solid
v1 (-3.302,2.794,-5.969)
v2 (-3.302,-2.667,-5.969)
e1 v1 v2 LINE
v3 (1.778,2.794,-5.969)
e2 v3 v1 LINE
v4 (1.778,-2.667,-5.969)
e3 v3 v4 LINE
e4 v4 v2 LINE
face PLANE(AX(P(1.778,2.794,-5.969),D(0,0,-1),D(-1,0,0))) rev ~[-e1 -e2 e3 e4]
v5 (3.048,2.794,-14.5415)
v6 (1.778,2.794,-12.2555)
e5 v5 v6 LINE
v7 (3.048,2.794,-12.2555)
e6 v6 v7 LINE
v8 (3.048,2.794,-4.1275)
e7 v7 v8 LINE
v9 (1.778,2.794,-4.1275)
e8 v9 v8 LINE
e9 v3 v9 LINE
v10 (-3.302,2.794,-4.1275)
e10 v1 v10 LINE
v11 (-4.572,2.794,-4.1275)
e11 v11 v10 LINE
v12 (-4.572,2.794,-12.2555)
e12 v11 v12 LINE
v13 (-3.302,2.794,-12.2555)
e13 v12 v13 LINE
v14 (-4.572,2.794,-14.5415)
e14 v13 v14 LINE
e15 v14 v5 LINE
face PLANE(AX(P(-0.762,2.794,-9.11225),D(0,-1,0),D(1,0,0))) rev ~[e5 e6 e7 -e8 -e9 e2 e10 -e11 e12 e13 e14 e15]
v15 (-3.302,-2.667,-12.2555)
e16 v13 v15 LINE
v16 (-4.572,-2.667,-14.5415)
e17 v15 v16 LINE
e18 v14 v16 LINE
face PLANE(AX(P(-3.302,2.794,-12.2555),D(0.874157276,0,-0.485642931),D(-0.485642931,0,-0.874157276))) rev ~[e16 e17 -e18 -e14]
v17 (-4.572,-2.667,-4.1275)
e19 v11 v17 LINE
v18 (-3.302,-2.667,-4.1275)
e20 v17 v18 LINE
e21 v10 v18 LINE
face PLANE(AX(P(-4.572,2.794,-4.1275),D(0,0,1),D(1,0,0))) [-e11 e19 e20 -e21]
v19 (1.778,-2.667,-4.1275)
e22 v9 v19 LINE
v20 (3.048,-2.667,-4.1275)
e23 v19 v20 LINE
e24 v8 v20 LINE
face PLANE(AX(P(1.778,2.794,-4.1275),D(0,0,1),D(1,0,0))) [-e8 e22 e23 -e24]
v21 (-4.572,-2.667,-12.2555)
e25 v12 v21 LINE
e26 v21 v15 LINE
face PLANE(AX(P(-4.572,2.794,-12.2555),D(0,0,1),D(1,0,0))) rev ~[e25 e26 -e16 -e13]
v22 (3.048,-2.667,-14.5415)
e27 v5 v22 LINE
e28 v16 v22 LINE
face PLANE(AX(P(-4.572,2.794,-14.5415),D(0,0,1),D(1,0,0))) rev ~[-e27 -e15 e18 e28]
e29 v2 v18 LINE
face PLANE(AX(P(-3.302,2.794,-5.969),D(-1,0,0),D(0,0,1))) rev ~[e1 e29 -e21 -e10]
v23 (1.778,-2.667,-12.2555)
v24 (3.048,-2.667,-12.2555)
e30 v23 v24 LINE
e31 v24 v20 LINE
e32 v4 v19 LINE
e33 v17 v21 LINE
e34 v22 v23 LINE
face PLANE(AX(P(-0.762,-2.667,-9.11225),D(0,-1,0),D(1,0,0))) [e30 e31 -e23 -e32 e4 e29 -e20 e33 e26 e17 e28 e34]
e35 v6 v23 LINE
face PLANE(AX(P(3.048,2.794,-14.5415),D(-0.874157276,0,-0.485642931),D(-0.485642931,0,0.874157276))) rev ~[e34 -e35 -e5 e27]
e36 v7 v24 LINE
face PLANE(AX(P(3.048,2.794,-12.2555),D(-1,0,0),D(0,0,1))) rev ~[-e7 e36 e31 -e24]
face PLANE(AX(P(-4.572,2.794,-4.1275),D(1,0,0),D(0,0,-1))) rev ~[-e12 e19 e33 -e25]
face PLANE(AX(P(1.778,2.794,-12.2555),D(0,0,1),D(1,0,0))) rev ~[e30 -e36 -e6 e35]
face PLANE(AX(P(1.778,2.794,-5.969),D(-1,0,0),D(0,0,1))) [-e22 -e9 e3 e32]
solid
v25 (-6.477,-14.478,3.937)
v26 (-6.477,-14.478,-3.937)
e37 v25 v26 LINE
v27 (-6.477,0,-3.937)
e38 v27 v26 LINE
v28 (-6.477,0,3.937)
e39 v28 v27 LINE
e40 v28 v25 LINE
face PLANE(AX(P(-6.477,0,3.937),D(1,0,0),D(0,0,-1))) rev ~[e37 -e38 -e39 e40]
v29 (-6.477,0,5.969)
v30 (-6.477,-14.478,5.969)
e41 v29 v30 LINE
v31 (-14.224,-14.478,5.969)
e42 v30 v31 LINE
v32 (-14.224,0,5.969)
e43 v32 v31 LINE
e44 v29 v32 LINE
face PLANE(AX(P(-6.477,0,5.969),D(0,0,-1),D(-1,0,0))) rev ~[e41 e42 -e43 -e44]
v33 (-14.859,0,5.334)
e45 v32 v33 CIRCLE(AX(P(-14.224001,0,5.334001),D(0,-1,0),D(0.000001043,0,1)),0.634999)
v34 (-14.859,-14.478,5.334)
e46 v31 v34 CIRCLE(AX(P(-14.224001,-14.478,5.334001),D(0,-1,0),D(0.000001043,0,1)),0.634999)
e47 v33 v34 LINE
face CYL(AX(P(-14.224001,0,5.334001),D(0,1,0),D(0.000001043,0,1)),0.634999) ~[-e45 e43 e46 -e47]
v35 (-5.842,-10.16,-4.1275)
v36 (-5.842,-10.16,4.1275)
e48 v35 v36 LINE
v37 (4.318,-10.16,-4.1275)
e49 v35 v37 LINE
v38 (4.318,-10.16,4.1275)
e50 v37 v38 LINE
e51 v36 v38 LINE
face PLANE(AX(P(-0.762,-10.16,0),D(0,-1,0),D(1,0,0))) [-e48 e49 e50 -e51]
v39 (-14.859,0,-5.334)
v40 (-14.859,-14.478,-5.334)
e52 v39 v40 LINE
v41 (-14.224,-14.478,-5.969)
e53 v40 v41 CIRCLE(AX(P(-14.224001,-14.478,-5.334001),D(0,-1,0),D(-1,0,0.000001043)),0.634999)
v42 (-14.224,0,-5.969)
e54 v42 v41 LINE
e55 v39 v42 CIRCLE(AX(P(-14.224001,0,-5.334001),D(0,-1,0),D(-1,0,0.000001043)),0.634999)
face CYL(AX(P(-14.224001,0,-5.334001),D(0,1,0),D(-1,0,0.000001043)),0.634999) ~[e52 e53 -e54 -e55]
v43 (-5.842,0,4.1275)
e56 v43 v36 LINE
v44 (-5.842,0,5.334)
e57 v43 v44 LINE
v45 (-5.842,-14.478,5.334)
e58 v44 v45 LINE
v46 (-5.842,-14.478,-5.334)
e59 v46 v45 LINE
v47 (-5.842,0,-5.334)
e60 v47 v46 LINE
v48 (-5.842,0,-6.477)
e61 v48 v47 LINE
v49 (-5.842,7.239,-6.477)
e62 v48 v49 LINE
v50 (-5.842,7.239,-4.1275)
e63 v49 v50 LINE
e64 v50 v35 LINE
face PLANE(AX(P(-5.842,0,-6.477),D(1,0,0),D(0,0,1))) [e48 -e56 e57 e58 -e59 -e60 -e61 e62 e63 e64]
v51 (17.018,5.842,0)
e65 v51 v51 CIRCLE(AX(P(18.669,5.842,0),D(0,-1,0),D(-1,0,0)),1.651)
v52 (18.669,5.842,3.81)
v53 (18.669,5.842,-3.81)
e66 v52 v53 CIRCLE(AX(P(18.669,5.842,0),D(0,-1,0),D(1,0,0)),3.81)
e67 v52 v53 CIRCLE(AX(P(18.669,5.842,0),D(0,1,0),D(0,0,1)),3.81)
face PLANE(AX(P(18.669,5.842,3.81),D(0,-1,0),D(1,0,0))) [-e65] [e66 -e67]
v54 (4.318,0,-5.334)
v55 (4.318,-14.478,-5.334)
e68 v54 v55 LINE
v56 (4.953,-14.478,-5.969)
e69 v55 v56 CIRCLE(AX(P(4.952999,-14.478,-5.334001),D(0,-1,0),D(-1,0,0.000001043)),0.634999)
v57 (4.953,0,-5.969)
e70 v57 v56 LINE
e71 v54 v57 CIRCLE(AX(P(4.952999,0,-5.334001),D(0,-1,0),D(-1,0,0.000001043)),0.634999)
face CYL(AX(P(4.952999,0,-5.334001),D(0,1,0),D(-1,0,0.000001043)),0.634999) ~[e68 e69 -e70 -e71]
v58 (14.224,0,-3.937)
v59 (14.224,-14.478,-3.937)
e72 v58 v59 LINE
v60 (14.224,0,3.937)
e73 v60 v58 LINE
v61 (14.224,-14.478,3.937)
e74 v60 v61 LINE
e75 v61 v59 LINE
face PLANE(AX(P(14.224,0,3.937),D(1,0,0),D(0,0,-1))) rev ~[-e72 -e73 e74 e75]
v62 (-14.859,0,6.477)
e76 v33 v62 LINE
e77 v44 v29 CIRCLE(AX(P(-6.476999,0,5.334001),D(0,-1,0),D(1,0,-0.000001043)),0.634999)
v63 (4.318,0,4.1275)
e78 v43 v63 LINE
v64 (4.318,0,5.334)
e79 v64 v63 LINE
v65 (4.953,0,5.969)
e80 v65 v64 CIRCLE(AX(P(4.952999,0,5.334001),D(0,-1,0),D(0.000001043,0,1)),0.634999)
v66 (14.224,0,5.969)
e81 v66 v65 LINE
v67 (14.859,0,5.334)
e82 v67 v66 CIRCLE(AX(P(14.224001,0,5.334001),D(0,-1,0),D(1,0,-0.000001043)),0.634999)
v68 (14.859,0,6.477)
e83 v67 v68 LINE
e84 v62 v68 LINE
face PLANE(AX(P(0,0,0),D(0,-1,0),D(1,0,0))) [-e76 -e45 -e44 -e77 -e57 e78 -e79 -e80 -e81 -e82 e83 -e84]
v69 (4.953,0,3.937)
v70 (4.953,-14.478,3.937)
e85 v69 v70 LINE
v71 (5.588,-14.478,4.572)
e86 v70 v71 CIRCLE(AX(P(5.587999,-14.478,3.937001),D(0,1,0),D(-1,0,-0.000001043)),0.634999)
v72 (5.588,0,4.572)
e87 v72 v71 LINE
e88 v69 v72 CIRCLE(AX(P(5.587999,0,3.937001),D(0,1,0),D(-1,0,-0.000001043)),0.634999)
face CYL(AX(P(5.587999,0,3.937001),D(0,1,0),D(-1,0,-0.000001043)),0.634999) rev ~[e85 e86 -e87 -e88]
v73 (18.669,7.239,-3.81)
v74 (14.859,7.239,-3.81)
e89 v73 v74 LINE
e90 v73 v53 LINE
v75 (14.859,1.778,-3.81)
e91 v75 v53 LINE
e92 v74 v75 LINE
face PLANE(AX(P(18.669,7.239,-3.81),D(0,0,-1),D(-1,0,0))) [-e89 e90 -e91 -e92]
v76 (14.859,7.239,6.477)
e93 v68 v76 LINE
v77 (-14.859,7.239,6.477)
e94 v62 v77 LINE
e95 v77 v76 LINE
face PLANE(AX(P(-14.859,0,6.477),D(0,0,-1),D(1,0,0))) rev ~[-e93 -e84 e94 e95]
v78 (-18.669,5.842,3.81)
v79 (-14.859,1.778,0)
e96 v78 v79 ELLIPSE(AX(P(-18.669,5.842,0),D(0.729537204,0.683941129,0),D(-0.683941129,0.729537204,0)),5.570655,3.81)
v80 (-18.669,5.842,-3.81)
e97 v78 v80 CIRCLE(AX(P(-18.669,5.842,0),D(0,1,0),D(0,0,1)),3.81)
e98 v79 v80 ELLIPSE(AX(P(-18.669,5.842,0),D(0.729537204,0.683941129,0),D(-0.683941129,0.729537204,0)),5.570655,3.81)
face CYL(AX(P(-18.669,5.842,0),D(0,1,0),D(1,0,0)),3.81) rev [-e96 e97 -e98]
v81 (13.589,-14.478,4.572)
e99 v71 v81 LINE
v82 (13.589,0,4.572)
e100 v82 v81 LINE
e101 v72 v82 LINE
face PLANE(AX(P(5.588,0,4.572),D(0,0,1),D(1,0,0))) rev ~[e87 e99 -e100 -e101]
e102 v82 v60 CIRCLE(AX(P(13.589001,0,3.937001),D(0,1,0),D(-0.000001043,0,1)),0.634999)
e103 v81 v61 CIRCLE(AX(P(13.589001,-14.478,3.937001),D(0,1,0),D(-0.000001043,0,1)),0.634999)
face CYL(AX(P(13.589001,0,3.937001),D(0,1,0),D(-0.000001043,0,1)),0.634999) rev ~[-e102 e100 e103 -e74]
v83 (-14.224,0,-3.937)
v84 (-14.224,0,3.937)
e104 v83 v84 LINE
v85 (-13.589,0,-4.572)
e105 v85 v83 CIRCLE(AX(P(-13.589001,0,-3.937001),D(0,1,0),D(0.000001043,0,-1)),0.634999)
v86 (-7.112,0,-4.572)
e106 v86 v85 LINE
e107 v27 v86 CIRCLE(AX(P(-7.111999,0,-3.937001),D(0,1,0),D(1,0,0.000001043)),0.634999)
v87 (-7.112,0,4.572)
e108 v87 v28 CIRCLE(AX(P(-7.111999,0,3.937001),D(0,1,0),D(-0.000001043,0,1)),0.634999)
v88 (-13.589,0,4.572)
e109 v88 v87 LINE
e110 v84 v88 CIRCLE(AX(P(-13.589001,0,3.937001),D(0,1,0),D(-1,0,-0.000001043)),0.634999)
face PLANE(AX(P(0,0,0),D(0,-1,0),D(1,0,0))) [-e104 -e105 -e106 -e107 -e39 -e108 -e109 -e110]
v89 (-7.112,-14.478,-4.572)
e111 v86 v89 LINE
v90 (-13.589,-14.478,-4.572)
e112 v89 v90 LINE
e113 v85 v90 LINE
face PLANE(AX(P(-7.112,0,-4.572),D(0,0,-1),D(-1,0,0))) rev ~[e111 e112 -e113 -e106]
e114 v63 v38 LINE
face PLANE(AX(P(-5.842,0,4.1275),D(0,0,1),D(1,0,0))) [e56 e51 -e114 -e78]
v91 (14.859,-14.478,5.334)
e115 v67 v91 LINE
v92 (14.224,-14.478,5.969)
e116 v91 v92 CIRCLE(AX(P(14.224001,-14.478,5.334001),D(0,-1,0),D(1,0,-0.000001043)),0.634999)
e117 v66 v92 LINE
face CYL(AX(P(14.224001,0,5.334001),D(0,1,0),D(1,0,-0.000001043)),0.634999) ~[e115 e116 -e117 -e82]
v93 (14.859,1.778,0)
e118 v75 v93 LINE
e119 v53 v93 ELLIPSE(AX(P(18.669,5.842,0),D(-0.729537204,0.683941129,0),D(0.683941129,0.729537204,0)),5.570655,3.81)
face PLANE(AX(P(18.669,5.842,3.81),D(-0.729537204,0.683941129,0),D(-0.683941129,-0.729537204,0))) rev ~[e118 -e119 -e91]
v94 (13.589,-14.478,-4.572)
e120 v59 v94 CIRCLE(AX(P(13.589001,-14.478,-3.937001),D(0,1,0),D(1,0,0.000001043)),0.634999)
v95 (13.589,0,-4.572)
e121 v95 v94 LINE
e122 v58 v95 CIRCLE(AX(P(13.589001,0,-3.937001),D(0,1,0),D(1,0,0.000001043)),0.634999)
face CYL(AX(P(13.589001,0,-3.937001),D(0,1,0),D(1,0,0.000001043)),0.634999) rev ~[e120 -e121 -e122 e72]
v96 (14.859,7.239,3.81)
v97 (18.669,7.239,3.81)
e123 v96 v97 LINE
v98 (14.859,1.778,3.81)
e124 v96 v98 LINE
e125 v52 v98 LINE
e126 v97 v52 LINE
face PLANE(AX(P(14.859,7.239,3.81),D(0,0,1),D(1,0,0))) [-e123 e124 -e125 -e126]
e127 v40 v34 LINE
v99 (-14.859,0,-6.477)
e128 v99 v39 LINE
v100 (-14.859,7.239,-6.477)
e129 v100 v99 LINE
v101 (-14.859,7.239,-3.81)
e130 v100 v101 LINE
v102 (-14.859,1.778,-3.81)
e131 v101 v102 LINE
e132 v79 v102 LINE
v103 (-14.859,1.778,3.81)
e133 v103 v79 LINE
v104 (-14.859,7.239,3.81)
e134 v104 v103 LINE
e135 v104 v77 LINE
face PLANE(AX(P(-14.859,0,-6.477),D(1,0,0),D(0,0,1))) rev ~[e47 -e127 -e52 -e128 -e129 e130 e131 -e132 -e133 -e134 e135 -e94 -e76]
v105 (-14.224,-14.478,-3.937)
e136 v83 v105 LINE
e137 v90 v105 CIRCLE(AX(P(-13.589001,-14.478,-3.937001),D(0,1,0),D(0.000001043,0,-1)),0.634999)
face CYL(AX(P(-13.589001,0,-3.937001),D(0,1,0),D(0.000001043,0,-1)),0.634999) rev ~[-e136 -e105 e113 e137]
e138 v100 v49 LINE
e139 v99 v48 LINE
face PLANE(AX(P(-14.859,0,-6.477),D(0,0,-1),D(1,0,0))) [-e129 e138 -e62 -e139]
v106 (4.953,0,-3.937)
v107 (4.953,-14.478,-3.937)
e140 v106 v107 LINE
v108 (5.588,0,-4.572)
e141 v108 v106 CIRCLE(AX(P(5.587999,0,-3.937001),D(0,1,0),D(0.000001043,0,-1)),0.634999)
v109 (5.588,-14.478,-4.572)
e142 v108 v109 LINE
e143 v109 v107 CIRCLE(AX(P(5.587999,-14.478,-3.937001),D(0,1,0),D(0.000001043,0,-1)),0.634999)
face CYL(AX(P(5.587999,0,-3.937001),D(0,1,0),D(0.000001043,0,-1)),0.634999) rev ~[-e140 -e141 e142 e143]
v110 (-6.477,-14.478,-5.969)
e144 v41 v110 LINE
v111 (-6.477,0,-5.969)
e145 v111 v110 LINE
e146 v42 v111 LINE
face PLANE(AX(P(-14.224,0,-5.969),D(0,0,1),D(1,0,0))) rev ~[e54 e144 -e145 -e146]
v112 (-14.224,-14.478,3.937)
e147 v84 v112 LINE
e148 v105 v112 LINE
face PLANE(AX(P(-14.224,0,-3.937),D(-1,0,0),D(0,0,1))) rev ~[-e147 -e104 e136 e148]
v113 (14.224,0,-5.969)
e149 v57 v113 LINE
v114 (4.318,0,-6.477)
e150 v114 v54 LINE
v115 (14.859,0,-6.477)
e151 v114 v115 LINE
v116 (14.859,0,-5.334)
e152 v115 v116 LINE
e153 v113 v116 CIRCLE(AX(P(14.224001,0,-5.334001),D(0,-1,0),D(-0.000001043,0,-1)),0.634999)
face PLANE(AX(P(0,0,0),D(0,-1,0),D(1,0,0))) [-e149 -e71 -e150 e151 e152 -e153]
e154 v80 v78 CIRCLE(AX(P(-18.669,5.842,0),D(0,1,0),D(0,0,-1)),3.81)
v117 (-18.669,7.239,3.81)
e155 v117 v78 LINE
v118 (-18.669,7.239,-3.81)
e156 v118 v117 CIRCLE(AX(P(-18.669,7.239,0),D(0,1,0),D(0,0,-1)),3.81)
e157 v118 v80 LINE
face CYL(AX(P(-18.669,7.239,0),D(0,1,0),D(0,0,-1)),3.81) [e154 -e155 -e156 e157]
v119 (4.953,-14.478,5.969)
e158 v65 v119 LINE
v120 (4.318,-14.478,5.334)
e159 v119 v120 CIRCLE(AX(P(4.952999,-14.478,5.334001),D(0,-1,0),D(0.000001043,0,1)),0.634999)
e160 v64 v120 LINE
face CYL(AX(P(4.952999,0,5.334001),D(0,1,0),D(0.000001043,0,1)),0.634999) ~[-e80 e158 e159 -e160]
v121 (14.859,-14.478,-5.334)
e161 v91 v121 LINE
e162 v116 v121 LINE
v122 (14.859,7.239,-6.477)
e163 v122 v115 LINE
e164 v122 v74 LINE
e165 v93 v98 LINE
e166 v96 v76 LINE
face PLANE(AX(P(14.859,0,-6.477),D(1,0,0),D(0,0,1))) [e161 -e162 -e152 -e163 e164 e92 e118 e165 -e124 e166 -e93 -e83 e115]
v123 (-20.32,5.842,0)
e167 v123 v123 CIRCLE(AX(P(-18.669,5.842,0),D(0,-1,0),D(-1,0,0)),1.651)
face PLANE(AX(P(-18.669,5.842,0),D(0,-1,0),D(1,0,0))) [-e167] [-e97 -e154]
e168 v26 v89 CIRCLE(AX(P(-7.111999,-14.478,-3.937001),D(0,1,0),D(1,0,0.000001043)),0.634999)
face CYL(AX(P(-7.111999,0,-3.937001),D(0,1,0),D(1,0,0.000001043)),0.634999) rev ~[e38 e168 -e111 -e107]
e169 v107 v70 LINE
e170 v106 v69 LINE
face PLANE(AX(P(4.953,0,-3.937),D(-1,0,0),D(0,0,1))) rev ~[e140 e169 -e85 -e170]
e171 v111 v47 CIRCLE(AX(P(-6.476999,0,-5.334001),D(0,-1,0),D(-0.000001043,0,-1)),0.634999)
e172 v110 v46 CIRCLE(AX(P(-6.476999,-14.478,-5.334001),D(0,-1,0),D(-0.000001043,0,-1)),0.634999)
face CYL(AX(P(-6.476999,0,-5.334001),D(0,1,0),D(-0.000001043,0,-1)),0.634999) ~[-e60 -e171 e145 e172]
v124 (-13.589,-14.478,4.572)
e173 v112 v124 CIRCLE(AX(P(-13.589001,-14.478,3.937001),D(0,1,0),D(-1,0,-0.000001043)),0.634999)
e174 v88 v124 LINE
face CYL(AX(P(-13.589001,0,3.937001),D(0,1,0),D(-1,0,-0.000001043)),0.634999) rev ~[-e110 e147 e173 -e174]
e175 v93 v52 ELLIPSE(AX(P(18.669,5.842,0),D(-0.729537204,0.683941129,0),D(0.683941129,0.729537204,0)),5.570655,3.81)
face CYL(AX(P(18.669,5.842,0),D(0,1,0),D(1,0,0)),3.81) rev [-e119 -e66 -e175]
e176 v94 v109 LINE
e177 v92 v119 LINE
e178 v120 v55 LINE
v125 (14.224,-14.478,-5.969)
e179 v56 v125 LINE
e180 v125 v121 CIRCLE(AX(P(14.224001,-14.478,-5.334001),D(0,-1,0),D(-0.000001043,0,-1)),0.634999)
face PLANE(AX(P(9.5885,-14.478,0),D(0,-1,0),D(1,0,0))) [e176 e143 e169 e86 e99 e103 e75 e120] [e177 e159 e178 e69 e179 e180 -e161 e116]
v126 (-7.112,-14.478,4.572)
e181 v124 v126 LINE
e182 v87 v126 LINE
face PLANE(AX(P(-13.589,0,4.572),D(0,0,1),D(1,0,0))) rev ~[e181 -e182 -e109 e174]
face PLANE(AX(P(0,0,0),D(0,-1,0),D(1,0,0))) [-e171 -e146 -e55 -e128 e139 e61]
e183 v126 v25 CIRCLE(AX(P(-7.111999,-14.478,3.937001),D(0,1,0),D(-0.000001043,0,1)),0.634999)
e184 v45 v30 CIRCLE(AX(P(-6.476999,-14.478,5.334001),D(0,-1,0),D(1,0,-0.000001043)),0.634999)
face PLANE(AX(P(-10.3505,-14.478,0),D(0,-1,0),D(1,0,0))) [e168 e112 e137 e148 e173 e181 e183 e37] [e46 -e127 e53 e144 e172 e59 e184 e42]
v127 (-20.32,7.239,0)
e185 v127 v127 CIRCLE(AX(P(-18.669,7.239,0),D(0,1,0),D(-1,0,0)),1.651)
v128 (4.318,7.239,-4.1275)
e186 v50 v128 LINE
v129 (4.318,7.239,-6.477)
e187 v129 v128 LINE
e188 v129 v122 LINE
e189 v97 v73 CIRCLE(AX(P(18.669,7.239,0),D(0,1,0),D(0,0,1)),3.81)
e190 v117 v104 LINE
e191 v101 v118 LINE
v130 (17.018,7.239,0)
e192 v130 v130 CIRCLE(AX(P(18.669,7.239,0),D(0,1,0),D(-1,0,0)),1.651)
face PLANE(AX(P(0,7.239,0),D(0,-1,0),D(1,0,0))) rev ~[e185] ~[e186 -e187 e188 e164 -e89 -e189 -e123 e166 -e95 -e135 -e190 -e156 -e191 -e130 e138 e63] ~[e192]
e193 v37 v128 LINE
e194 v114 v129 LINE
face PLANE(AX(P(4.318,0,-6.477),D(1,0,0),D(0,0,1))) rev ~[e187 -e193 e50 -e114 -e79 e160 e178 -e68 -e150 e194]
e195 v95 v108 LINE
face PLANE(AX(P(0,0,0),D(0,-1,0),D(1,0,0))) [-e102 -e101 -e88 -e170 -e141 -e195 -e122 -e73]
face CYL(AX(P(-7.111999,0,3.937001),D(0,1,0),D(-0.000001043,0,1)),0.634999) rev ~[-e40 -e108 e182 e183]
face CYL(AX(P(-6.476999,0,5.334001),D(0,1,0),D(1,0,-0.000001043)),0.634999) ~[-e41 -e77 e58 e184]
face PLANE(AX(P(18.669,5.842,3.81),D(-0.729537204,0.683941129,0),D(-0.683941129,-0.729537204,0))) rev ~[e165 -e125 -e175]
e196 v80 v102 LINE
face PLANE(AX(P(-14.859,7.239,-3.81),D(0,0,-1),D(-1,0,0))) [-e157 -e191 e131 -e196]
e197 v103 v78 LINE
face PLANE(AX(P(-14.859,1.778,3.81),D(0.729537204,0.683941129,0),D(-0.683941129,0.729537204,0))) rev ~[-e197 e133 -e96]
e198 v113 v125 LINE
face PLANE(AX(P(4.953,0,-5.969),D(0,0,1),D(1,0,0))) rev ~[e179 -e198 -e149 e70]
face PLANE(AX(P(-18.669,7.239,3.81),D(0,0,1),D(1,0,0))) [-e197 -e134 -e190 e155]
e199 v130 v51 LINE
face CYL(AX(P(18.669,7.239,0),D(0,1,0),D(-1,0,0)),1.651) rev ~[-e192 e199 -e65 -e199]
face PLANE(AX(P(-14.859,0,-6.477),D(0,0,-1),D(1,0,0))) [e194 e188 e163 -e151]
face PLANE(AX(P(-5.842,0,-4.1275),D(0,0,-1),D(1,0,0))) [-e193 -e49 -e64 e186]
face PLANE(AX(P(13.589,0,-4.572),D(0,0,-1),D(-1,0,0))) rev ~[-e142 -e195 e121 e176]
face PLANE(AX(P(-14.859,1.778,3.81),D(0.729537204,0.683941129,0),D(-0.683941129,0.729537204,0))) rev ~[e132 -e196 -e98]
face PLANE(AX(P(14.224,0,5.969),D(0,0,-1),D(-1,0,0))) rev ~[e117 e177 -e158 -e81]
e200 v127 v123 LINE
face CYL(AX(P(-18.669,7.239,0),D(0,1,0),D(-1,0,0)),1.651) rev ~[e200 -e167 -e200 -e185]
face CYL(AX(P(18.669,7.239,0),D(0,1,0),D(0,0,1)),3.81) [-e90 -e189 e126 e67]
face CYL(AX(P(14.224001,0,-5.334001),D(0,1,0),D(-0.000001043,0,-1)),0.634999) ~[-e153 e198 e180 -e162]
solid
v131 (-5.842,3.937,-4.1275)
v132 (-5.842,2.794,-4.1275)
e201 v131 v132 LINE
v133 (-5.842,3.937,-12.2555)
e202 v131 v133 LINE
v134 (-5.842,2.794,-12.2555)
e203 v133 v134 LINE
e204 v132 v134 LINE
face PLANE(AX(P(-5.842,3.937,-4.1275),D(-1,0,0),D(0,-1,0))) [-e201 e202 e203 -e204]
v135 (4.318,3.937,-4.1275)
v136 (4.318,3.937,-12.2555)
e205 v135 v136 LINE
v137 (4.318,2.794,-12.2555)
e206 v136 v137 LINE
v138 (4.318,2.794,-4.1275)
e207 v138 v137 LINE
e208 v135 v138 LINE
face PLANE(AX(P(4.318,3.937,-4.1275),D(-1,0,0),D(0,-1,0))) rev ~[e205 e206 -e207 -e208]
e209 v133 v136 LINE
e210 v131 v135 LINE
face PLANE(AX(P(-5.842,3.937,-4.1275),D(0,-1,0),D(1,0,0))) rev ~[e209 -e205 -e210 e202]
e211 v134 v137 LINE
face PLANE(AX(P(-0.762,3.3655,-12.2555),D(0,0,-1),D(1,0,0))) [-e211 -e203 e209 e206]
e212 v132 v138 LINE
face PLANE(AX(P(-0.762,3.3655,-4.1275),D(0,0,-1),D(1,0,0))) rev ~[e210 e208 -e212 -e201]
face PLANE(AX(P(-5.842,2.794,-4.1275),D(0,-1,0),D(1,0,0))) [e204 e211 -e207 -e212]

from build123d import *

# Parameters (mm, degrees)
F0_W      = 29.718
F0_H      = 12.954
F1_DEPTH  = 7.239
F3_DEPTH  = 14.478
F5_DEPTH  = 14.478
F6_W      = 10.16
F6_H      = 8.255
F7_DEPTH  = 10.16
F8_R      = 1.651
F9_DEPTH  = 5.461
F10_W     = 3.81
F10_H     = 4.064
F11_DEPTH = 10.288
F12_R     = 3.81
F13_DEPTH = 20.321
F14_W     = 10.16
F14_H     = 2.3495
F15_DEPTH = 7.24
F16_W     = 10.16
F16_H     = 1.143
F17_DEPTH = 8.128
F18_W     = 1.27
F18_H     = 1.8415
F19_DEPTH = 5.461


with BuildPart() as f1:
    # F0 (on Front) → F1 (new body)
    with BuildSketch(Plane.XZ):
        Rectangle(F0_W, F0_H)
    extrude(amount=-F1_DEPTH)

    # F2 (on face) → F3 (join)
    with BuildSketch(Plane.XZ):
        with BuildLine():
            Line((-6.477, 5.969), (-14.224, 5.969))
            ThreePointArc((-14.224, 5.969), (-14.673013, 5.783013), (-14.859, 5.334))
            Line((-14.859, 5.334), (-14.859, -5.334))
            ThreePointArc((-14.859, -5.334), (-14.673013, -5.783013), (-14.224, -5.969))
            Line((-14.224, -5.969), (-6.477, -5.969))
            ThreePointArc((-6.477, -5.969), (-6.027987, -5.783013), (-5.842, -5.334))
            Line((-5.842, -5.334), (-5.842, 5.334))
            ThreePointArc((-5.842, 5.334), (-6.027987, 5.783013), (-6.477, 5.969))
        make_face()
        with BuildLine():
            Line((-14.224, -3.937), (-14.224, 3.937))
            ThreePointArc((-14.224, 3.937), (-14.038013, 4.386013), (-13.589, 4.572))
            Line((-13.589, 4.572), (-7.112, 4.572))
            ThreePointArc((-7.112, 4.572), (-6.662987, 4.386013), (-6.477, 3.937))
            Line((-6.477, 3.937), (-6.477, -3.937))
            ThreePointArc((-6.477, -3.937), (-6.662987, -4.386013), (-7.112, -4.572))
            Line((-7.112, -4.572), (-13.589, -4.572))
            ThreePointArc((-13.589, -4.572), (-14.038013, -4.386013), (-14.224, -3.937))
        make_face(mode=Mode.SUBTRACT)
    extrude(amount=F3_DEPTH)

    # F4 (on face) → F5 (join, through all)
    with BuildSketch(Plane.XZ):
        with BuildLine():
            Line((14.224, 5.969), (4.953, 5.969))
            ThreePointArc((4.953, 5.969), (4.503987, 5.783013), (4.318, 5.334))
            Line((4.318, 5.334), (4.318, -5.334))
            ThreePointArc((4.318, -5.334), (4.503987, -5.783013), (4.953, -5.969))
            Line((4.953, -5.969), (14.224, -5.969))
            ThreePointArc((14.224, -5.969), (14.673013, -5.783013), (14.859, -5.334))
            Line((14.859, -5.334), (14.859, 5.334))
            ThreePointArc((14.859, 5.334), (14.673013, 5.783013), (14.224, 5.969))
        make_face()
        with BuildLine():
            ThreePointArc((4.953, 3.937), (5.138987, 4.386013), (5.588, 4.572))
            Line((5.588, 4.572), (13.589, 4.572))
            ThreePointArc((13.589, 4.572), (14.038013, 4.386013), (14.224, 3.937))
            Line((14.224, 3.937), (14.224, -3.937))
            ThreePointArc((14.224, -3.937), (14.038013, -4.386013), (13.589, -4.572))
            Line((13.589, -4.572), (5.588, -4.572))
            ThreePointArc((5.588, -4.572), (5.138987, -4.386013), (4.953, -3.937))
            Line((4.953, -3.937), (4.953, 3.937))
        make_face(mode=Mode.SUBTRACT)
    extrude(amount=F5_DEPTH)

    # F6 (on face) → F7 (join)
    with BuildSketch(Plane.XZ):
        with Locations((-0.762, 0)):
            Rectangle(F6_W, F6_H)
    extrude(amount=F7_DEPTH)

    # F8 (on face) → F9 (join)
    with BuildSketch(Plane(origin=(0, 7.239, 0), x_dir=(-1, 0, 0), z_dir=(0, 1, 0))):
        with BuildLine():
            Line((14.859, -3.81), (18.669, -3.81))
            ThreePointArc((18.669, -3.81), (22.479, 0), (18.669, 3.81))
            Line((18.669, 3.81), (14.859, 3.81))
            Line((14.859, 3.81), (14.859, -3.81))
        make_face()
        with Locations((18.669, 0)):
            Circle(F8_R, mode=Mode.SUBTRACT)
        with BuildLine():
            Line((-18.669, -3.81), (-14.859, -3.81))
            Line((-14.859, -3.81), (-14.859, 3.81))
            Line((-14.859, 3.81), (-18.669, 3.81))
            ThreePointArc((-18.669, 3.81), (-22.479, 0), (-18.669, -3.81))
        make_face()
        with Locations((-18.669, 0)):
            Circle(F8_R, mode=Mode.SUBTRACT)
    extrude(amount=-F9_DEPTH)

    # F10 (on face) → F11 (cut, through all)
    with BuildSketch(Plane.XY.offset(3.81)):
        Polygon((-22.479, 1.778), (-14.859, 1.778), (-18.669, 5.842), (-22.479, 5.842), align=None)
        with Locations((20.574, 3.81)):
            Rectangle(F10_W, F10_H)
        Polygon((18.669, 1.778), (18.669, 5.842), (14.859, 1.778), align=None)
    extrude(amount=-F11_DEPTH, mode=Mode.SUBTRACT)

    # F12 (on face) → F13 (cut, through all)
    with BuildSketch(Plane.XZ.offset(-5.842)):
        with Locations((18.669, 0)):
            Circle(F12_R)
        with Locations((-18.669, 0)):
            Circle(F12_R)
    extrude(amount=F13_DEPTH, mode=Mode.SUBTRACT)

    # F14 (on face) → F15 (cut, through all)
    with BuildSketch(Plane.XZ):
        with Locations((-0.762, -5.30225)):
            Rectangle(F14_W, F14_H)
    extrude(amount=-F15_DEPTH, mode=Mode.SUBTRACT)


with BuildPart() as f17:
    # F16 (on face) → F17 (new body)
    with BuildSketch(Plane(origin=(0, 0, -4.1275), x_dir=(1, 0, 0), z_dir=(0, 0, -1))):
        with Locations((-0.762, -3.3655)):
            Rectangle(F16_W, F16_H)
    extrude(amount=F17_DEPTH)


with BuildPart() as f19:
    # F18 (on face) → F19 (new body)
    with BuildSketch(Plane.XZ.offset(-2.794)):
        Polygon((-3.302, -5.969), (-4.572, -5.969), (-4.572, -12.2555), (-3.302, -12.2555), (1.778, -12.2555), (3.048, -12.2555), (3.048, -5.969), (1.778, -5.969), align=None)
        with Locations((-3.937, -5.04825)):
            Rectangle(F18_W, F18_H)
        with Locations((2.413, -5.04825)):
            Rectangle(F18_W, F18_H)
        Polygon((1.778, -12.2555), (-3.302, -12.2555), (-4.572, -14.5415), (3.048, -14.5415), align=None)
    extrude(amount=F19_DEPTH)


solid = Compound([f1.part, f17.part, f19.part])
